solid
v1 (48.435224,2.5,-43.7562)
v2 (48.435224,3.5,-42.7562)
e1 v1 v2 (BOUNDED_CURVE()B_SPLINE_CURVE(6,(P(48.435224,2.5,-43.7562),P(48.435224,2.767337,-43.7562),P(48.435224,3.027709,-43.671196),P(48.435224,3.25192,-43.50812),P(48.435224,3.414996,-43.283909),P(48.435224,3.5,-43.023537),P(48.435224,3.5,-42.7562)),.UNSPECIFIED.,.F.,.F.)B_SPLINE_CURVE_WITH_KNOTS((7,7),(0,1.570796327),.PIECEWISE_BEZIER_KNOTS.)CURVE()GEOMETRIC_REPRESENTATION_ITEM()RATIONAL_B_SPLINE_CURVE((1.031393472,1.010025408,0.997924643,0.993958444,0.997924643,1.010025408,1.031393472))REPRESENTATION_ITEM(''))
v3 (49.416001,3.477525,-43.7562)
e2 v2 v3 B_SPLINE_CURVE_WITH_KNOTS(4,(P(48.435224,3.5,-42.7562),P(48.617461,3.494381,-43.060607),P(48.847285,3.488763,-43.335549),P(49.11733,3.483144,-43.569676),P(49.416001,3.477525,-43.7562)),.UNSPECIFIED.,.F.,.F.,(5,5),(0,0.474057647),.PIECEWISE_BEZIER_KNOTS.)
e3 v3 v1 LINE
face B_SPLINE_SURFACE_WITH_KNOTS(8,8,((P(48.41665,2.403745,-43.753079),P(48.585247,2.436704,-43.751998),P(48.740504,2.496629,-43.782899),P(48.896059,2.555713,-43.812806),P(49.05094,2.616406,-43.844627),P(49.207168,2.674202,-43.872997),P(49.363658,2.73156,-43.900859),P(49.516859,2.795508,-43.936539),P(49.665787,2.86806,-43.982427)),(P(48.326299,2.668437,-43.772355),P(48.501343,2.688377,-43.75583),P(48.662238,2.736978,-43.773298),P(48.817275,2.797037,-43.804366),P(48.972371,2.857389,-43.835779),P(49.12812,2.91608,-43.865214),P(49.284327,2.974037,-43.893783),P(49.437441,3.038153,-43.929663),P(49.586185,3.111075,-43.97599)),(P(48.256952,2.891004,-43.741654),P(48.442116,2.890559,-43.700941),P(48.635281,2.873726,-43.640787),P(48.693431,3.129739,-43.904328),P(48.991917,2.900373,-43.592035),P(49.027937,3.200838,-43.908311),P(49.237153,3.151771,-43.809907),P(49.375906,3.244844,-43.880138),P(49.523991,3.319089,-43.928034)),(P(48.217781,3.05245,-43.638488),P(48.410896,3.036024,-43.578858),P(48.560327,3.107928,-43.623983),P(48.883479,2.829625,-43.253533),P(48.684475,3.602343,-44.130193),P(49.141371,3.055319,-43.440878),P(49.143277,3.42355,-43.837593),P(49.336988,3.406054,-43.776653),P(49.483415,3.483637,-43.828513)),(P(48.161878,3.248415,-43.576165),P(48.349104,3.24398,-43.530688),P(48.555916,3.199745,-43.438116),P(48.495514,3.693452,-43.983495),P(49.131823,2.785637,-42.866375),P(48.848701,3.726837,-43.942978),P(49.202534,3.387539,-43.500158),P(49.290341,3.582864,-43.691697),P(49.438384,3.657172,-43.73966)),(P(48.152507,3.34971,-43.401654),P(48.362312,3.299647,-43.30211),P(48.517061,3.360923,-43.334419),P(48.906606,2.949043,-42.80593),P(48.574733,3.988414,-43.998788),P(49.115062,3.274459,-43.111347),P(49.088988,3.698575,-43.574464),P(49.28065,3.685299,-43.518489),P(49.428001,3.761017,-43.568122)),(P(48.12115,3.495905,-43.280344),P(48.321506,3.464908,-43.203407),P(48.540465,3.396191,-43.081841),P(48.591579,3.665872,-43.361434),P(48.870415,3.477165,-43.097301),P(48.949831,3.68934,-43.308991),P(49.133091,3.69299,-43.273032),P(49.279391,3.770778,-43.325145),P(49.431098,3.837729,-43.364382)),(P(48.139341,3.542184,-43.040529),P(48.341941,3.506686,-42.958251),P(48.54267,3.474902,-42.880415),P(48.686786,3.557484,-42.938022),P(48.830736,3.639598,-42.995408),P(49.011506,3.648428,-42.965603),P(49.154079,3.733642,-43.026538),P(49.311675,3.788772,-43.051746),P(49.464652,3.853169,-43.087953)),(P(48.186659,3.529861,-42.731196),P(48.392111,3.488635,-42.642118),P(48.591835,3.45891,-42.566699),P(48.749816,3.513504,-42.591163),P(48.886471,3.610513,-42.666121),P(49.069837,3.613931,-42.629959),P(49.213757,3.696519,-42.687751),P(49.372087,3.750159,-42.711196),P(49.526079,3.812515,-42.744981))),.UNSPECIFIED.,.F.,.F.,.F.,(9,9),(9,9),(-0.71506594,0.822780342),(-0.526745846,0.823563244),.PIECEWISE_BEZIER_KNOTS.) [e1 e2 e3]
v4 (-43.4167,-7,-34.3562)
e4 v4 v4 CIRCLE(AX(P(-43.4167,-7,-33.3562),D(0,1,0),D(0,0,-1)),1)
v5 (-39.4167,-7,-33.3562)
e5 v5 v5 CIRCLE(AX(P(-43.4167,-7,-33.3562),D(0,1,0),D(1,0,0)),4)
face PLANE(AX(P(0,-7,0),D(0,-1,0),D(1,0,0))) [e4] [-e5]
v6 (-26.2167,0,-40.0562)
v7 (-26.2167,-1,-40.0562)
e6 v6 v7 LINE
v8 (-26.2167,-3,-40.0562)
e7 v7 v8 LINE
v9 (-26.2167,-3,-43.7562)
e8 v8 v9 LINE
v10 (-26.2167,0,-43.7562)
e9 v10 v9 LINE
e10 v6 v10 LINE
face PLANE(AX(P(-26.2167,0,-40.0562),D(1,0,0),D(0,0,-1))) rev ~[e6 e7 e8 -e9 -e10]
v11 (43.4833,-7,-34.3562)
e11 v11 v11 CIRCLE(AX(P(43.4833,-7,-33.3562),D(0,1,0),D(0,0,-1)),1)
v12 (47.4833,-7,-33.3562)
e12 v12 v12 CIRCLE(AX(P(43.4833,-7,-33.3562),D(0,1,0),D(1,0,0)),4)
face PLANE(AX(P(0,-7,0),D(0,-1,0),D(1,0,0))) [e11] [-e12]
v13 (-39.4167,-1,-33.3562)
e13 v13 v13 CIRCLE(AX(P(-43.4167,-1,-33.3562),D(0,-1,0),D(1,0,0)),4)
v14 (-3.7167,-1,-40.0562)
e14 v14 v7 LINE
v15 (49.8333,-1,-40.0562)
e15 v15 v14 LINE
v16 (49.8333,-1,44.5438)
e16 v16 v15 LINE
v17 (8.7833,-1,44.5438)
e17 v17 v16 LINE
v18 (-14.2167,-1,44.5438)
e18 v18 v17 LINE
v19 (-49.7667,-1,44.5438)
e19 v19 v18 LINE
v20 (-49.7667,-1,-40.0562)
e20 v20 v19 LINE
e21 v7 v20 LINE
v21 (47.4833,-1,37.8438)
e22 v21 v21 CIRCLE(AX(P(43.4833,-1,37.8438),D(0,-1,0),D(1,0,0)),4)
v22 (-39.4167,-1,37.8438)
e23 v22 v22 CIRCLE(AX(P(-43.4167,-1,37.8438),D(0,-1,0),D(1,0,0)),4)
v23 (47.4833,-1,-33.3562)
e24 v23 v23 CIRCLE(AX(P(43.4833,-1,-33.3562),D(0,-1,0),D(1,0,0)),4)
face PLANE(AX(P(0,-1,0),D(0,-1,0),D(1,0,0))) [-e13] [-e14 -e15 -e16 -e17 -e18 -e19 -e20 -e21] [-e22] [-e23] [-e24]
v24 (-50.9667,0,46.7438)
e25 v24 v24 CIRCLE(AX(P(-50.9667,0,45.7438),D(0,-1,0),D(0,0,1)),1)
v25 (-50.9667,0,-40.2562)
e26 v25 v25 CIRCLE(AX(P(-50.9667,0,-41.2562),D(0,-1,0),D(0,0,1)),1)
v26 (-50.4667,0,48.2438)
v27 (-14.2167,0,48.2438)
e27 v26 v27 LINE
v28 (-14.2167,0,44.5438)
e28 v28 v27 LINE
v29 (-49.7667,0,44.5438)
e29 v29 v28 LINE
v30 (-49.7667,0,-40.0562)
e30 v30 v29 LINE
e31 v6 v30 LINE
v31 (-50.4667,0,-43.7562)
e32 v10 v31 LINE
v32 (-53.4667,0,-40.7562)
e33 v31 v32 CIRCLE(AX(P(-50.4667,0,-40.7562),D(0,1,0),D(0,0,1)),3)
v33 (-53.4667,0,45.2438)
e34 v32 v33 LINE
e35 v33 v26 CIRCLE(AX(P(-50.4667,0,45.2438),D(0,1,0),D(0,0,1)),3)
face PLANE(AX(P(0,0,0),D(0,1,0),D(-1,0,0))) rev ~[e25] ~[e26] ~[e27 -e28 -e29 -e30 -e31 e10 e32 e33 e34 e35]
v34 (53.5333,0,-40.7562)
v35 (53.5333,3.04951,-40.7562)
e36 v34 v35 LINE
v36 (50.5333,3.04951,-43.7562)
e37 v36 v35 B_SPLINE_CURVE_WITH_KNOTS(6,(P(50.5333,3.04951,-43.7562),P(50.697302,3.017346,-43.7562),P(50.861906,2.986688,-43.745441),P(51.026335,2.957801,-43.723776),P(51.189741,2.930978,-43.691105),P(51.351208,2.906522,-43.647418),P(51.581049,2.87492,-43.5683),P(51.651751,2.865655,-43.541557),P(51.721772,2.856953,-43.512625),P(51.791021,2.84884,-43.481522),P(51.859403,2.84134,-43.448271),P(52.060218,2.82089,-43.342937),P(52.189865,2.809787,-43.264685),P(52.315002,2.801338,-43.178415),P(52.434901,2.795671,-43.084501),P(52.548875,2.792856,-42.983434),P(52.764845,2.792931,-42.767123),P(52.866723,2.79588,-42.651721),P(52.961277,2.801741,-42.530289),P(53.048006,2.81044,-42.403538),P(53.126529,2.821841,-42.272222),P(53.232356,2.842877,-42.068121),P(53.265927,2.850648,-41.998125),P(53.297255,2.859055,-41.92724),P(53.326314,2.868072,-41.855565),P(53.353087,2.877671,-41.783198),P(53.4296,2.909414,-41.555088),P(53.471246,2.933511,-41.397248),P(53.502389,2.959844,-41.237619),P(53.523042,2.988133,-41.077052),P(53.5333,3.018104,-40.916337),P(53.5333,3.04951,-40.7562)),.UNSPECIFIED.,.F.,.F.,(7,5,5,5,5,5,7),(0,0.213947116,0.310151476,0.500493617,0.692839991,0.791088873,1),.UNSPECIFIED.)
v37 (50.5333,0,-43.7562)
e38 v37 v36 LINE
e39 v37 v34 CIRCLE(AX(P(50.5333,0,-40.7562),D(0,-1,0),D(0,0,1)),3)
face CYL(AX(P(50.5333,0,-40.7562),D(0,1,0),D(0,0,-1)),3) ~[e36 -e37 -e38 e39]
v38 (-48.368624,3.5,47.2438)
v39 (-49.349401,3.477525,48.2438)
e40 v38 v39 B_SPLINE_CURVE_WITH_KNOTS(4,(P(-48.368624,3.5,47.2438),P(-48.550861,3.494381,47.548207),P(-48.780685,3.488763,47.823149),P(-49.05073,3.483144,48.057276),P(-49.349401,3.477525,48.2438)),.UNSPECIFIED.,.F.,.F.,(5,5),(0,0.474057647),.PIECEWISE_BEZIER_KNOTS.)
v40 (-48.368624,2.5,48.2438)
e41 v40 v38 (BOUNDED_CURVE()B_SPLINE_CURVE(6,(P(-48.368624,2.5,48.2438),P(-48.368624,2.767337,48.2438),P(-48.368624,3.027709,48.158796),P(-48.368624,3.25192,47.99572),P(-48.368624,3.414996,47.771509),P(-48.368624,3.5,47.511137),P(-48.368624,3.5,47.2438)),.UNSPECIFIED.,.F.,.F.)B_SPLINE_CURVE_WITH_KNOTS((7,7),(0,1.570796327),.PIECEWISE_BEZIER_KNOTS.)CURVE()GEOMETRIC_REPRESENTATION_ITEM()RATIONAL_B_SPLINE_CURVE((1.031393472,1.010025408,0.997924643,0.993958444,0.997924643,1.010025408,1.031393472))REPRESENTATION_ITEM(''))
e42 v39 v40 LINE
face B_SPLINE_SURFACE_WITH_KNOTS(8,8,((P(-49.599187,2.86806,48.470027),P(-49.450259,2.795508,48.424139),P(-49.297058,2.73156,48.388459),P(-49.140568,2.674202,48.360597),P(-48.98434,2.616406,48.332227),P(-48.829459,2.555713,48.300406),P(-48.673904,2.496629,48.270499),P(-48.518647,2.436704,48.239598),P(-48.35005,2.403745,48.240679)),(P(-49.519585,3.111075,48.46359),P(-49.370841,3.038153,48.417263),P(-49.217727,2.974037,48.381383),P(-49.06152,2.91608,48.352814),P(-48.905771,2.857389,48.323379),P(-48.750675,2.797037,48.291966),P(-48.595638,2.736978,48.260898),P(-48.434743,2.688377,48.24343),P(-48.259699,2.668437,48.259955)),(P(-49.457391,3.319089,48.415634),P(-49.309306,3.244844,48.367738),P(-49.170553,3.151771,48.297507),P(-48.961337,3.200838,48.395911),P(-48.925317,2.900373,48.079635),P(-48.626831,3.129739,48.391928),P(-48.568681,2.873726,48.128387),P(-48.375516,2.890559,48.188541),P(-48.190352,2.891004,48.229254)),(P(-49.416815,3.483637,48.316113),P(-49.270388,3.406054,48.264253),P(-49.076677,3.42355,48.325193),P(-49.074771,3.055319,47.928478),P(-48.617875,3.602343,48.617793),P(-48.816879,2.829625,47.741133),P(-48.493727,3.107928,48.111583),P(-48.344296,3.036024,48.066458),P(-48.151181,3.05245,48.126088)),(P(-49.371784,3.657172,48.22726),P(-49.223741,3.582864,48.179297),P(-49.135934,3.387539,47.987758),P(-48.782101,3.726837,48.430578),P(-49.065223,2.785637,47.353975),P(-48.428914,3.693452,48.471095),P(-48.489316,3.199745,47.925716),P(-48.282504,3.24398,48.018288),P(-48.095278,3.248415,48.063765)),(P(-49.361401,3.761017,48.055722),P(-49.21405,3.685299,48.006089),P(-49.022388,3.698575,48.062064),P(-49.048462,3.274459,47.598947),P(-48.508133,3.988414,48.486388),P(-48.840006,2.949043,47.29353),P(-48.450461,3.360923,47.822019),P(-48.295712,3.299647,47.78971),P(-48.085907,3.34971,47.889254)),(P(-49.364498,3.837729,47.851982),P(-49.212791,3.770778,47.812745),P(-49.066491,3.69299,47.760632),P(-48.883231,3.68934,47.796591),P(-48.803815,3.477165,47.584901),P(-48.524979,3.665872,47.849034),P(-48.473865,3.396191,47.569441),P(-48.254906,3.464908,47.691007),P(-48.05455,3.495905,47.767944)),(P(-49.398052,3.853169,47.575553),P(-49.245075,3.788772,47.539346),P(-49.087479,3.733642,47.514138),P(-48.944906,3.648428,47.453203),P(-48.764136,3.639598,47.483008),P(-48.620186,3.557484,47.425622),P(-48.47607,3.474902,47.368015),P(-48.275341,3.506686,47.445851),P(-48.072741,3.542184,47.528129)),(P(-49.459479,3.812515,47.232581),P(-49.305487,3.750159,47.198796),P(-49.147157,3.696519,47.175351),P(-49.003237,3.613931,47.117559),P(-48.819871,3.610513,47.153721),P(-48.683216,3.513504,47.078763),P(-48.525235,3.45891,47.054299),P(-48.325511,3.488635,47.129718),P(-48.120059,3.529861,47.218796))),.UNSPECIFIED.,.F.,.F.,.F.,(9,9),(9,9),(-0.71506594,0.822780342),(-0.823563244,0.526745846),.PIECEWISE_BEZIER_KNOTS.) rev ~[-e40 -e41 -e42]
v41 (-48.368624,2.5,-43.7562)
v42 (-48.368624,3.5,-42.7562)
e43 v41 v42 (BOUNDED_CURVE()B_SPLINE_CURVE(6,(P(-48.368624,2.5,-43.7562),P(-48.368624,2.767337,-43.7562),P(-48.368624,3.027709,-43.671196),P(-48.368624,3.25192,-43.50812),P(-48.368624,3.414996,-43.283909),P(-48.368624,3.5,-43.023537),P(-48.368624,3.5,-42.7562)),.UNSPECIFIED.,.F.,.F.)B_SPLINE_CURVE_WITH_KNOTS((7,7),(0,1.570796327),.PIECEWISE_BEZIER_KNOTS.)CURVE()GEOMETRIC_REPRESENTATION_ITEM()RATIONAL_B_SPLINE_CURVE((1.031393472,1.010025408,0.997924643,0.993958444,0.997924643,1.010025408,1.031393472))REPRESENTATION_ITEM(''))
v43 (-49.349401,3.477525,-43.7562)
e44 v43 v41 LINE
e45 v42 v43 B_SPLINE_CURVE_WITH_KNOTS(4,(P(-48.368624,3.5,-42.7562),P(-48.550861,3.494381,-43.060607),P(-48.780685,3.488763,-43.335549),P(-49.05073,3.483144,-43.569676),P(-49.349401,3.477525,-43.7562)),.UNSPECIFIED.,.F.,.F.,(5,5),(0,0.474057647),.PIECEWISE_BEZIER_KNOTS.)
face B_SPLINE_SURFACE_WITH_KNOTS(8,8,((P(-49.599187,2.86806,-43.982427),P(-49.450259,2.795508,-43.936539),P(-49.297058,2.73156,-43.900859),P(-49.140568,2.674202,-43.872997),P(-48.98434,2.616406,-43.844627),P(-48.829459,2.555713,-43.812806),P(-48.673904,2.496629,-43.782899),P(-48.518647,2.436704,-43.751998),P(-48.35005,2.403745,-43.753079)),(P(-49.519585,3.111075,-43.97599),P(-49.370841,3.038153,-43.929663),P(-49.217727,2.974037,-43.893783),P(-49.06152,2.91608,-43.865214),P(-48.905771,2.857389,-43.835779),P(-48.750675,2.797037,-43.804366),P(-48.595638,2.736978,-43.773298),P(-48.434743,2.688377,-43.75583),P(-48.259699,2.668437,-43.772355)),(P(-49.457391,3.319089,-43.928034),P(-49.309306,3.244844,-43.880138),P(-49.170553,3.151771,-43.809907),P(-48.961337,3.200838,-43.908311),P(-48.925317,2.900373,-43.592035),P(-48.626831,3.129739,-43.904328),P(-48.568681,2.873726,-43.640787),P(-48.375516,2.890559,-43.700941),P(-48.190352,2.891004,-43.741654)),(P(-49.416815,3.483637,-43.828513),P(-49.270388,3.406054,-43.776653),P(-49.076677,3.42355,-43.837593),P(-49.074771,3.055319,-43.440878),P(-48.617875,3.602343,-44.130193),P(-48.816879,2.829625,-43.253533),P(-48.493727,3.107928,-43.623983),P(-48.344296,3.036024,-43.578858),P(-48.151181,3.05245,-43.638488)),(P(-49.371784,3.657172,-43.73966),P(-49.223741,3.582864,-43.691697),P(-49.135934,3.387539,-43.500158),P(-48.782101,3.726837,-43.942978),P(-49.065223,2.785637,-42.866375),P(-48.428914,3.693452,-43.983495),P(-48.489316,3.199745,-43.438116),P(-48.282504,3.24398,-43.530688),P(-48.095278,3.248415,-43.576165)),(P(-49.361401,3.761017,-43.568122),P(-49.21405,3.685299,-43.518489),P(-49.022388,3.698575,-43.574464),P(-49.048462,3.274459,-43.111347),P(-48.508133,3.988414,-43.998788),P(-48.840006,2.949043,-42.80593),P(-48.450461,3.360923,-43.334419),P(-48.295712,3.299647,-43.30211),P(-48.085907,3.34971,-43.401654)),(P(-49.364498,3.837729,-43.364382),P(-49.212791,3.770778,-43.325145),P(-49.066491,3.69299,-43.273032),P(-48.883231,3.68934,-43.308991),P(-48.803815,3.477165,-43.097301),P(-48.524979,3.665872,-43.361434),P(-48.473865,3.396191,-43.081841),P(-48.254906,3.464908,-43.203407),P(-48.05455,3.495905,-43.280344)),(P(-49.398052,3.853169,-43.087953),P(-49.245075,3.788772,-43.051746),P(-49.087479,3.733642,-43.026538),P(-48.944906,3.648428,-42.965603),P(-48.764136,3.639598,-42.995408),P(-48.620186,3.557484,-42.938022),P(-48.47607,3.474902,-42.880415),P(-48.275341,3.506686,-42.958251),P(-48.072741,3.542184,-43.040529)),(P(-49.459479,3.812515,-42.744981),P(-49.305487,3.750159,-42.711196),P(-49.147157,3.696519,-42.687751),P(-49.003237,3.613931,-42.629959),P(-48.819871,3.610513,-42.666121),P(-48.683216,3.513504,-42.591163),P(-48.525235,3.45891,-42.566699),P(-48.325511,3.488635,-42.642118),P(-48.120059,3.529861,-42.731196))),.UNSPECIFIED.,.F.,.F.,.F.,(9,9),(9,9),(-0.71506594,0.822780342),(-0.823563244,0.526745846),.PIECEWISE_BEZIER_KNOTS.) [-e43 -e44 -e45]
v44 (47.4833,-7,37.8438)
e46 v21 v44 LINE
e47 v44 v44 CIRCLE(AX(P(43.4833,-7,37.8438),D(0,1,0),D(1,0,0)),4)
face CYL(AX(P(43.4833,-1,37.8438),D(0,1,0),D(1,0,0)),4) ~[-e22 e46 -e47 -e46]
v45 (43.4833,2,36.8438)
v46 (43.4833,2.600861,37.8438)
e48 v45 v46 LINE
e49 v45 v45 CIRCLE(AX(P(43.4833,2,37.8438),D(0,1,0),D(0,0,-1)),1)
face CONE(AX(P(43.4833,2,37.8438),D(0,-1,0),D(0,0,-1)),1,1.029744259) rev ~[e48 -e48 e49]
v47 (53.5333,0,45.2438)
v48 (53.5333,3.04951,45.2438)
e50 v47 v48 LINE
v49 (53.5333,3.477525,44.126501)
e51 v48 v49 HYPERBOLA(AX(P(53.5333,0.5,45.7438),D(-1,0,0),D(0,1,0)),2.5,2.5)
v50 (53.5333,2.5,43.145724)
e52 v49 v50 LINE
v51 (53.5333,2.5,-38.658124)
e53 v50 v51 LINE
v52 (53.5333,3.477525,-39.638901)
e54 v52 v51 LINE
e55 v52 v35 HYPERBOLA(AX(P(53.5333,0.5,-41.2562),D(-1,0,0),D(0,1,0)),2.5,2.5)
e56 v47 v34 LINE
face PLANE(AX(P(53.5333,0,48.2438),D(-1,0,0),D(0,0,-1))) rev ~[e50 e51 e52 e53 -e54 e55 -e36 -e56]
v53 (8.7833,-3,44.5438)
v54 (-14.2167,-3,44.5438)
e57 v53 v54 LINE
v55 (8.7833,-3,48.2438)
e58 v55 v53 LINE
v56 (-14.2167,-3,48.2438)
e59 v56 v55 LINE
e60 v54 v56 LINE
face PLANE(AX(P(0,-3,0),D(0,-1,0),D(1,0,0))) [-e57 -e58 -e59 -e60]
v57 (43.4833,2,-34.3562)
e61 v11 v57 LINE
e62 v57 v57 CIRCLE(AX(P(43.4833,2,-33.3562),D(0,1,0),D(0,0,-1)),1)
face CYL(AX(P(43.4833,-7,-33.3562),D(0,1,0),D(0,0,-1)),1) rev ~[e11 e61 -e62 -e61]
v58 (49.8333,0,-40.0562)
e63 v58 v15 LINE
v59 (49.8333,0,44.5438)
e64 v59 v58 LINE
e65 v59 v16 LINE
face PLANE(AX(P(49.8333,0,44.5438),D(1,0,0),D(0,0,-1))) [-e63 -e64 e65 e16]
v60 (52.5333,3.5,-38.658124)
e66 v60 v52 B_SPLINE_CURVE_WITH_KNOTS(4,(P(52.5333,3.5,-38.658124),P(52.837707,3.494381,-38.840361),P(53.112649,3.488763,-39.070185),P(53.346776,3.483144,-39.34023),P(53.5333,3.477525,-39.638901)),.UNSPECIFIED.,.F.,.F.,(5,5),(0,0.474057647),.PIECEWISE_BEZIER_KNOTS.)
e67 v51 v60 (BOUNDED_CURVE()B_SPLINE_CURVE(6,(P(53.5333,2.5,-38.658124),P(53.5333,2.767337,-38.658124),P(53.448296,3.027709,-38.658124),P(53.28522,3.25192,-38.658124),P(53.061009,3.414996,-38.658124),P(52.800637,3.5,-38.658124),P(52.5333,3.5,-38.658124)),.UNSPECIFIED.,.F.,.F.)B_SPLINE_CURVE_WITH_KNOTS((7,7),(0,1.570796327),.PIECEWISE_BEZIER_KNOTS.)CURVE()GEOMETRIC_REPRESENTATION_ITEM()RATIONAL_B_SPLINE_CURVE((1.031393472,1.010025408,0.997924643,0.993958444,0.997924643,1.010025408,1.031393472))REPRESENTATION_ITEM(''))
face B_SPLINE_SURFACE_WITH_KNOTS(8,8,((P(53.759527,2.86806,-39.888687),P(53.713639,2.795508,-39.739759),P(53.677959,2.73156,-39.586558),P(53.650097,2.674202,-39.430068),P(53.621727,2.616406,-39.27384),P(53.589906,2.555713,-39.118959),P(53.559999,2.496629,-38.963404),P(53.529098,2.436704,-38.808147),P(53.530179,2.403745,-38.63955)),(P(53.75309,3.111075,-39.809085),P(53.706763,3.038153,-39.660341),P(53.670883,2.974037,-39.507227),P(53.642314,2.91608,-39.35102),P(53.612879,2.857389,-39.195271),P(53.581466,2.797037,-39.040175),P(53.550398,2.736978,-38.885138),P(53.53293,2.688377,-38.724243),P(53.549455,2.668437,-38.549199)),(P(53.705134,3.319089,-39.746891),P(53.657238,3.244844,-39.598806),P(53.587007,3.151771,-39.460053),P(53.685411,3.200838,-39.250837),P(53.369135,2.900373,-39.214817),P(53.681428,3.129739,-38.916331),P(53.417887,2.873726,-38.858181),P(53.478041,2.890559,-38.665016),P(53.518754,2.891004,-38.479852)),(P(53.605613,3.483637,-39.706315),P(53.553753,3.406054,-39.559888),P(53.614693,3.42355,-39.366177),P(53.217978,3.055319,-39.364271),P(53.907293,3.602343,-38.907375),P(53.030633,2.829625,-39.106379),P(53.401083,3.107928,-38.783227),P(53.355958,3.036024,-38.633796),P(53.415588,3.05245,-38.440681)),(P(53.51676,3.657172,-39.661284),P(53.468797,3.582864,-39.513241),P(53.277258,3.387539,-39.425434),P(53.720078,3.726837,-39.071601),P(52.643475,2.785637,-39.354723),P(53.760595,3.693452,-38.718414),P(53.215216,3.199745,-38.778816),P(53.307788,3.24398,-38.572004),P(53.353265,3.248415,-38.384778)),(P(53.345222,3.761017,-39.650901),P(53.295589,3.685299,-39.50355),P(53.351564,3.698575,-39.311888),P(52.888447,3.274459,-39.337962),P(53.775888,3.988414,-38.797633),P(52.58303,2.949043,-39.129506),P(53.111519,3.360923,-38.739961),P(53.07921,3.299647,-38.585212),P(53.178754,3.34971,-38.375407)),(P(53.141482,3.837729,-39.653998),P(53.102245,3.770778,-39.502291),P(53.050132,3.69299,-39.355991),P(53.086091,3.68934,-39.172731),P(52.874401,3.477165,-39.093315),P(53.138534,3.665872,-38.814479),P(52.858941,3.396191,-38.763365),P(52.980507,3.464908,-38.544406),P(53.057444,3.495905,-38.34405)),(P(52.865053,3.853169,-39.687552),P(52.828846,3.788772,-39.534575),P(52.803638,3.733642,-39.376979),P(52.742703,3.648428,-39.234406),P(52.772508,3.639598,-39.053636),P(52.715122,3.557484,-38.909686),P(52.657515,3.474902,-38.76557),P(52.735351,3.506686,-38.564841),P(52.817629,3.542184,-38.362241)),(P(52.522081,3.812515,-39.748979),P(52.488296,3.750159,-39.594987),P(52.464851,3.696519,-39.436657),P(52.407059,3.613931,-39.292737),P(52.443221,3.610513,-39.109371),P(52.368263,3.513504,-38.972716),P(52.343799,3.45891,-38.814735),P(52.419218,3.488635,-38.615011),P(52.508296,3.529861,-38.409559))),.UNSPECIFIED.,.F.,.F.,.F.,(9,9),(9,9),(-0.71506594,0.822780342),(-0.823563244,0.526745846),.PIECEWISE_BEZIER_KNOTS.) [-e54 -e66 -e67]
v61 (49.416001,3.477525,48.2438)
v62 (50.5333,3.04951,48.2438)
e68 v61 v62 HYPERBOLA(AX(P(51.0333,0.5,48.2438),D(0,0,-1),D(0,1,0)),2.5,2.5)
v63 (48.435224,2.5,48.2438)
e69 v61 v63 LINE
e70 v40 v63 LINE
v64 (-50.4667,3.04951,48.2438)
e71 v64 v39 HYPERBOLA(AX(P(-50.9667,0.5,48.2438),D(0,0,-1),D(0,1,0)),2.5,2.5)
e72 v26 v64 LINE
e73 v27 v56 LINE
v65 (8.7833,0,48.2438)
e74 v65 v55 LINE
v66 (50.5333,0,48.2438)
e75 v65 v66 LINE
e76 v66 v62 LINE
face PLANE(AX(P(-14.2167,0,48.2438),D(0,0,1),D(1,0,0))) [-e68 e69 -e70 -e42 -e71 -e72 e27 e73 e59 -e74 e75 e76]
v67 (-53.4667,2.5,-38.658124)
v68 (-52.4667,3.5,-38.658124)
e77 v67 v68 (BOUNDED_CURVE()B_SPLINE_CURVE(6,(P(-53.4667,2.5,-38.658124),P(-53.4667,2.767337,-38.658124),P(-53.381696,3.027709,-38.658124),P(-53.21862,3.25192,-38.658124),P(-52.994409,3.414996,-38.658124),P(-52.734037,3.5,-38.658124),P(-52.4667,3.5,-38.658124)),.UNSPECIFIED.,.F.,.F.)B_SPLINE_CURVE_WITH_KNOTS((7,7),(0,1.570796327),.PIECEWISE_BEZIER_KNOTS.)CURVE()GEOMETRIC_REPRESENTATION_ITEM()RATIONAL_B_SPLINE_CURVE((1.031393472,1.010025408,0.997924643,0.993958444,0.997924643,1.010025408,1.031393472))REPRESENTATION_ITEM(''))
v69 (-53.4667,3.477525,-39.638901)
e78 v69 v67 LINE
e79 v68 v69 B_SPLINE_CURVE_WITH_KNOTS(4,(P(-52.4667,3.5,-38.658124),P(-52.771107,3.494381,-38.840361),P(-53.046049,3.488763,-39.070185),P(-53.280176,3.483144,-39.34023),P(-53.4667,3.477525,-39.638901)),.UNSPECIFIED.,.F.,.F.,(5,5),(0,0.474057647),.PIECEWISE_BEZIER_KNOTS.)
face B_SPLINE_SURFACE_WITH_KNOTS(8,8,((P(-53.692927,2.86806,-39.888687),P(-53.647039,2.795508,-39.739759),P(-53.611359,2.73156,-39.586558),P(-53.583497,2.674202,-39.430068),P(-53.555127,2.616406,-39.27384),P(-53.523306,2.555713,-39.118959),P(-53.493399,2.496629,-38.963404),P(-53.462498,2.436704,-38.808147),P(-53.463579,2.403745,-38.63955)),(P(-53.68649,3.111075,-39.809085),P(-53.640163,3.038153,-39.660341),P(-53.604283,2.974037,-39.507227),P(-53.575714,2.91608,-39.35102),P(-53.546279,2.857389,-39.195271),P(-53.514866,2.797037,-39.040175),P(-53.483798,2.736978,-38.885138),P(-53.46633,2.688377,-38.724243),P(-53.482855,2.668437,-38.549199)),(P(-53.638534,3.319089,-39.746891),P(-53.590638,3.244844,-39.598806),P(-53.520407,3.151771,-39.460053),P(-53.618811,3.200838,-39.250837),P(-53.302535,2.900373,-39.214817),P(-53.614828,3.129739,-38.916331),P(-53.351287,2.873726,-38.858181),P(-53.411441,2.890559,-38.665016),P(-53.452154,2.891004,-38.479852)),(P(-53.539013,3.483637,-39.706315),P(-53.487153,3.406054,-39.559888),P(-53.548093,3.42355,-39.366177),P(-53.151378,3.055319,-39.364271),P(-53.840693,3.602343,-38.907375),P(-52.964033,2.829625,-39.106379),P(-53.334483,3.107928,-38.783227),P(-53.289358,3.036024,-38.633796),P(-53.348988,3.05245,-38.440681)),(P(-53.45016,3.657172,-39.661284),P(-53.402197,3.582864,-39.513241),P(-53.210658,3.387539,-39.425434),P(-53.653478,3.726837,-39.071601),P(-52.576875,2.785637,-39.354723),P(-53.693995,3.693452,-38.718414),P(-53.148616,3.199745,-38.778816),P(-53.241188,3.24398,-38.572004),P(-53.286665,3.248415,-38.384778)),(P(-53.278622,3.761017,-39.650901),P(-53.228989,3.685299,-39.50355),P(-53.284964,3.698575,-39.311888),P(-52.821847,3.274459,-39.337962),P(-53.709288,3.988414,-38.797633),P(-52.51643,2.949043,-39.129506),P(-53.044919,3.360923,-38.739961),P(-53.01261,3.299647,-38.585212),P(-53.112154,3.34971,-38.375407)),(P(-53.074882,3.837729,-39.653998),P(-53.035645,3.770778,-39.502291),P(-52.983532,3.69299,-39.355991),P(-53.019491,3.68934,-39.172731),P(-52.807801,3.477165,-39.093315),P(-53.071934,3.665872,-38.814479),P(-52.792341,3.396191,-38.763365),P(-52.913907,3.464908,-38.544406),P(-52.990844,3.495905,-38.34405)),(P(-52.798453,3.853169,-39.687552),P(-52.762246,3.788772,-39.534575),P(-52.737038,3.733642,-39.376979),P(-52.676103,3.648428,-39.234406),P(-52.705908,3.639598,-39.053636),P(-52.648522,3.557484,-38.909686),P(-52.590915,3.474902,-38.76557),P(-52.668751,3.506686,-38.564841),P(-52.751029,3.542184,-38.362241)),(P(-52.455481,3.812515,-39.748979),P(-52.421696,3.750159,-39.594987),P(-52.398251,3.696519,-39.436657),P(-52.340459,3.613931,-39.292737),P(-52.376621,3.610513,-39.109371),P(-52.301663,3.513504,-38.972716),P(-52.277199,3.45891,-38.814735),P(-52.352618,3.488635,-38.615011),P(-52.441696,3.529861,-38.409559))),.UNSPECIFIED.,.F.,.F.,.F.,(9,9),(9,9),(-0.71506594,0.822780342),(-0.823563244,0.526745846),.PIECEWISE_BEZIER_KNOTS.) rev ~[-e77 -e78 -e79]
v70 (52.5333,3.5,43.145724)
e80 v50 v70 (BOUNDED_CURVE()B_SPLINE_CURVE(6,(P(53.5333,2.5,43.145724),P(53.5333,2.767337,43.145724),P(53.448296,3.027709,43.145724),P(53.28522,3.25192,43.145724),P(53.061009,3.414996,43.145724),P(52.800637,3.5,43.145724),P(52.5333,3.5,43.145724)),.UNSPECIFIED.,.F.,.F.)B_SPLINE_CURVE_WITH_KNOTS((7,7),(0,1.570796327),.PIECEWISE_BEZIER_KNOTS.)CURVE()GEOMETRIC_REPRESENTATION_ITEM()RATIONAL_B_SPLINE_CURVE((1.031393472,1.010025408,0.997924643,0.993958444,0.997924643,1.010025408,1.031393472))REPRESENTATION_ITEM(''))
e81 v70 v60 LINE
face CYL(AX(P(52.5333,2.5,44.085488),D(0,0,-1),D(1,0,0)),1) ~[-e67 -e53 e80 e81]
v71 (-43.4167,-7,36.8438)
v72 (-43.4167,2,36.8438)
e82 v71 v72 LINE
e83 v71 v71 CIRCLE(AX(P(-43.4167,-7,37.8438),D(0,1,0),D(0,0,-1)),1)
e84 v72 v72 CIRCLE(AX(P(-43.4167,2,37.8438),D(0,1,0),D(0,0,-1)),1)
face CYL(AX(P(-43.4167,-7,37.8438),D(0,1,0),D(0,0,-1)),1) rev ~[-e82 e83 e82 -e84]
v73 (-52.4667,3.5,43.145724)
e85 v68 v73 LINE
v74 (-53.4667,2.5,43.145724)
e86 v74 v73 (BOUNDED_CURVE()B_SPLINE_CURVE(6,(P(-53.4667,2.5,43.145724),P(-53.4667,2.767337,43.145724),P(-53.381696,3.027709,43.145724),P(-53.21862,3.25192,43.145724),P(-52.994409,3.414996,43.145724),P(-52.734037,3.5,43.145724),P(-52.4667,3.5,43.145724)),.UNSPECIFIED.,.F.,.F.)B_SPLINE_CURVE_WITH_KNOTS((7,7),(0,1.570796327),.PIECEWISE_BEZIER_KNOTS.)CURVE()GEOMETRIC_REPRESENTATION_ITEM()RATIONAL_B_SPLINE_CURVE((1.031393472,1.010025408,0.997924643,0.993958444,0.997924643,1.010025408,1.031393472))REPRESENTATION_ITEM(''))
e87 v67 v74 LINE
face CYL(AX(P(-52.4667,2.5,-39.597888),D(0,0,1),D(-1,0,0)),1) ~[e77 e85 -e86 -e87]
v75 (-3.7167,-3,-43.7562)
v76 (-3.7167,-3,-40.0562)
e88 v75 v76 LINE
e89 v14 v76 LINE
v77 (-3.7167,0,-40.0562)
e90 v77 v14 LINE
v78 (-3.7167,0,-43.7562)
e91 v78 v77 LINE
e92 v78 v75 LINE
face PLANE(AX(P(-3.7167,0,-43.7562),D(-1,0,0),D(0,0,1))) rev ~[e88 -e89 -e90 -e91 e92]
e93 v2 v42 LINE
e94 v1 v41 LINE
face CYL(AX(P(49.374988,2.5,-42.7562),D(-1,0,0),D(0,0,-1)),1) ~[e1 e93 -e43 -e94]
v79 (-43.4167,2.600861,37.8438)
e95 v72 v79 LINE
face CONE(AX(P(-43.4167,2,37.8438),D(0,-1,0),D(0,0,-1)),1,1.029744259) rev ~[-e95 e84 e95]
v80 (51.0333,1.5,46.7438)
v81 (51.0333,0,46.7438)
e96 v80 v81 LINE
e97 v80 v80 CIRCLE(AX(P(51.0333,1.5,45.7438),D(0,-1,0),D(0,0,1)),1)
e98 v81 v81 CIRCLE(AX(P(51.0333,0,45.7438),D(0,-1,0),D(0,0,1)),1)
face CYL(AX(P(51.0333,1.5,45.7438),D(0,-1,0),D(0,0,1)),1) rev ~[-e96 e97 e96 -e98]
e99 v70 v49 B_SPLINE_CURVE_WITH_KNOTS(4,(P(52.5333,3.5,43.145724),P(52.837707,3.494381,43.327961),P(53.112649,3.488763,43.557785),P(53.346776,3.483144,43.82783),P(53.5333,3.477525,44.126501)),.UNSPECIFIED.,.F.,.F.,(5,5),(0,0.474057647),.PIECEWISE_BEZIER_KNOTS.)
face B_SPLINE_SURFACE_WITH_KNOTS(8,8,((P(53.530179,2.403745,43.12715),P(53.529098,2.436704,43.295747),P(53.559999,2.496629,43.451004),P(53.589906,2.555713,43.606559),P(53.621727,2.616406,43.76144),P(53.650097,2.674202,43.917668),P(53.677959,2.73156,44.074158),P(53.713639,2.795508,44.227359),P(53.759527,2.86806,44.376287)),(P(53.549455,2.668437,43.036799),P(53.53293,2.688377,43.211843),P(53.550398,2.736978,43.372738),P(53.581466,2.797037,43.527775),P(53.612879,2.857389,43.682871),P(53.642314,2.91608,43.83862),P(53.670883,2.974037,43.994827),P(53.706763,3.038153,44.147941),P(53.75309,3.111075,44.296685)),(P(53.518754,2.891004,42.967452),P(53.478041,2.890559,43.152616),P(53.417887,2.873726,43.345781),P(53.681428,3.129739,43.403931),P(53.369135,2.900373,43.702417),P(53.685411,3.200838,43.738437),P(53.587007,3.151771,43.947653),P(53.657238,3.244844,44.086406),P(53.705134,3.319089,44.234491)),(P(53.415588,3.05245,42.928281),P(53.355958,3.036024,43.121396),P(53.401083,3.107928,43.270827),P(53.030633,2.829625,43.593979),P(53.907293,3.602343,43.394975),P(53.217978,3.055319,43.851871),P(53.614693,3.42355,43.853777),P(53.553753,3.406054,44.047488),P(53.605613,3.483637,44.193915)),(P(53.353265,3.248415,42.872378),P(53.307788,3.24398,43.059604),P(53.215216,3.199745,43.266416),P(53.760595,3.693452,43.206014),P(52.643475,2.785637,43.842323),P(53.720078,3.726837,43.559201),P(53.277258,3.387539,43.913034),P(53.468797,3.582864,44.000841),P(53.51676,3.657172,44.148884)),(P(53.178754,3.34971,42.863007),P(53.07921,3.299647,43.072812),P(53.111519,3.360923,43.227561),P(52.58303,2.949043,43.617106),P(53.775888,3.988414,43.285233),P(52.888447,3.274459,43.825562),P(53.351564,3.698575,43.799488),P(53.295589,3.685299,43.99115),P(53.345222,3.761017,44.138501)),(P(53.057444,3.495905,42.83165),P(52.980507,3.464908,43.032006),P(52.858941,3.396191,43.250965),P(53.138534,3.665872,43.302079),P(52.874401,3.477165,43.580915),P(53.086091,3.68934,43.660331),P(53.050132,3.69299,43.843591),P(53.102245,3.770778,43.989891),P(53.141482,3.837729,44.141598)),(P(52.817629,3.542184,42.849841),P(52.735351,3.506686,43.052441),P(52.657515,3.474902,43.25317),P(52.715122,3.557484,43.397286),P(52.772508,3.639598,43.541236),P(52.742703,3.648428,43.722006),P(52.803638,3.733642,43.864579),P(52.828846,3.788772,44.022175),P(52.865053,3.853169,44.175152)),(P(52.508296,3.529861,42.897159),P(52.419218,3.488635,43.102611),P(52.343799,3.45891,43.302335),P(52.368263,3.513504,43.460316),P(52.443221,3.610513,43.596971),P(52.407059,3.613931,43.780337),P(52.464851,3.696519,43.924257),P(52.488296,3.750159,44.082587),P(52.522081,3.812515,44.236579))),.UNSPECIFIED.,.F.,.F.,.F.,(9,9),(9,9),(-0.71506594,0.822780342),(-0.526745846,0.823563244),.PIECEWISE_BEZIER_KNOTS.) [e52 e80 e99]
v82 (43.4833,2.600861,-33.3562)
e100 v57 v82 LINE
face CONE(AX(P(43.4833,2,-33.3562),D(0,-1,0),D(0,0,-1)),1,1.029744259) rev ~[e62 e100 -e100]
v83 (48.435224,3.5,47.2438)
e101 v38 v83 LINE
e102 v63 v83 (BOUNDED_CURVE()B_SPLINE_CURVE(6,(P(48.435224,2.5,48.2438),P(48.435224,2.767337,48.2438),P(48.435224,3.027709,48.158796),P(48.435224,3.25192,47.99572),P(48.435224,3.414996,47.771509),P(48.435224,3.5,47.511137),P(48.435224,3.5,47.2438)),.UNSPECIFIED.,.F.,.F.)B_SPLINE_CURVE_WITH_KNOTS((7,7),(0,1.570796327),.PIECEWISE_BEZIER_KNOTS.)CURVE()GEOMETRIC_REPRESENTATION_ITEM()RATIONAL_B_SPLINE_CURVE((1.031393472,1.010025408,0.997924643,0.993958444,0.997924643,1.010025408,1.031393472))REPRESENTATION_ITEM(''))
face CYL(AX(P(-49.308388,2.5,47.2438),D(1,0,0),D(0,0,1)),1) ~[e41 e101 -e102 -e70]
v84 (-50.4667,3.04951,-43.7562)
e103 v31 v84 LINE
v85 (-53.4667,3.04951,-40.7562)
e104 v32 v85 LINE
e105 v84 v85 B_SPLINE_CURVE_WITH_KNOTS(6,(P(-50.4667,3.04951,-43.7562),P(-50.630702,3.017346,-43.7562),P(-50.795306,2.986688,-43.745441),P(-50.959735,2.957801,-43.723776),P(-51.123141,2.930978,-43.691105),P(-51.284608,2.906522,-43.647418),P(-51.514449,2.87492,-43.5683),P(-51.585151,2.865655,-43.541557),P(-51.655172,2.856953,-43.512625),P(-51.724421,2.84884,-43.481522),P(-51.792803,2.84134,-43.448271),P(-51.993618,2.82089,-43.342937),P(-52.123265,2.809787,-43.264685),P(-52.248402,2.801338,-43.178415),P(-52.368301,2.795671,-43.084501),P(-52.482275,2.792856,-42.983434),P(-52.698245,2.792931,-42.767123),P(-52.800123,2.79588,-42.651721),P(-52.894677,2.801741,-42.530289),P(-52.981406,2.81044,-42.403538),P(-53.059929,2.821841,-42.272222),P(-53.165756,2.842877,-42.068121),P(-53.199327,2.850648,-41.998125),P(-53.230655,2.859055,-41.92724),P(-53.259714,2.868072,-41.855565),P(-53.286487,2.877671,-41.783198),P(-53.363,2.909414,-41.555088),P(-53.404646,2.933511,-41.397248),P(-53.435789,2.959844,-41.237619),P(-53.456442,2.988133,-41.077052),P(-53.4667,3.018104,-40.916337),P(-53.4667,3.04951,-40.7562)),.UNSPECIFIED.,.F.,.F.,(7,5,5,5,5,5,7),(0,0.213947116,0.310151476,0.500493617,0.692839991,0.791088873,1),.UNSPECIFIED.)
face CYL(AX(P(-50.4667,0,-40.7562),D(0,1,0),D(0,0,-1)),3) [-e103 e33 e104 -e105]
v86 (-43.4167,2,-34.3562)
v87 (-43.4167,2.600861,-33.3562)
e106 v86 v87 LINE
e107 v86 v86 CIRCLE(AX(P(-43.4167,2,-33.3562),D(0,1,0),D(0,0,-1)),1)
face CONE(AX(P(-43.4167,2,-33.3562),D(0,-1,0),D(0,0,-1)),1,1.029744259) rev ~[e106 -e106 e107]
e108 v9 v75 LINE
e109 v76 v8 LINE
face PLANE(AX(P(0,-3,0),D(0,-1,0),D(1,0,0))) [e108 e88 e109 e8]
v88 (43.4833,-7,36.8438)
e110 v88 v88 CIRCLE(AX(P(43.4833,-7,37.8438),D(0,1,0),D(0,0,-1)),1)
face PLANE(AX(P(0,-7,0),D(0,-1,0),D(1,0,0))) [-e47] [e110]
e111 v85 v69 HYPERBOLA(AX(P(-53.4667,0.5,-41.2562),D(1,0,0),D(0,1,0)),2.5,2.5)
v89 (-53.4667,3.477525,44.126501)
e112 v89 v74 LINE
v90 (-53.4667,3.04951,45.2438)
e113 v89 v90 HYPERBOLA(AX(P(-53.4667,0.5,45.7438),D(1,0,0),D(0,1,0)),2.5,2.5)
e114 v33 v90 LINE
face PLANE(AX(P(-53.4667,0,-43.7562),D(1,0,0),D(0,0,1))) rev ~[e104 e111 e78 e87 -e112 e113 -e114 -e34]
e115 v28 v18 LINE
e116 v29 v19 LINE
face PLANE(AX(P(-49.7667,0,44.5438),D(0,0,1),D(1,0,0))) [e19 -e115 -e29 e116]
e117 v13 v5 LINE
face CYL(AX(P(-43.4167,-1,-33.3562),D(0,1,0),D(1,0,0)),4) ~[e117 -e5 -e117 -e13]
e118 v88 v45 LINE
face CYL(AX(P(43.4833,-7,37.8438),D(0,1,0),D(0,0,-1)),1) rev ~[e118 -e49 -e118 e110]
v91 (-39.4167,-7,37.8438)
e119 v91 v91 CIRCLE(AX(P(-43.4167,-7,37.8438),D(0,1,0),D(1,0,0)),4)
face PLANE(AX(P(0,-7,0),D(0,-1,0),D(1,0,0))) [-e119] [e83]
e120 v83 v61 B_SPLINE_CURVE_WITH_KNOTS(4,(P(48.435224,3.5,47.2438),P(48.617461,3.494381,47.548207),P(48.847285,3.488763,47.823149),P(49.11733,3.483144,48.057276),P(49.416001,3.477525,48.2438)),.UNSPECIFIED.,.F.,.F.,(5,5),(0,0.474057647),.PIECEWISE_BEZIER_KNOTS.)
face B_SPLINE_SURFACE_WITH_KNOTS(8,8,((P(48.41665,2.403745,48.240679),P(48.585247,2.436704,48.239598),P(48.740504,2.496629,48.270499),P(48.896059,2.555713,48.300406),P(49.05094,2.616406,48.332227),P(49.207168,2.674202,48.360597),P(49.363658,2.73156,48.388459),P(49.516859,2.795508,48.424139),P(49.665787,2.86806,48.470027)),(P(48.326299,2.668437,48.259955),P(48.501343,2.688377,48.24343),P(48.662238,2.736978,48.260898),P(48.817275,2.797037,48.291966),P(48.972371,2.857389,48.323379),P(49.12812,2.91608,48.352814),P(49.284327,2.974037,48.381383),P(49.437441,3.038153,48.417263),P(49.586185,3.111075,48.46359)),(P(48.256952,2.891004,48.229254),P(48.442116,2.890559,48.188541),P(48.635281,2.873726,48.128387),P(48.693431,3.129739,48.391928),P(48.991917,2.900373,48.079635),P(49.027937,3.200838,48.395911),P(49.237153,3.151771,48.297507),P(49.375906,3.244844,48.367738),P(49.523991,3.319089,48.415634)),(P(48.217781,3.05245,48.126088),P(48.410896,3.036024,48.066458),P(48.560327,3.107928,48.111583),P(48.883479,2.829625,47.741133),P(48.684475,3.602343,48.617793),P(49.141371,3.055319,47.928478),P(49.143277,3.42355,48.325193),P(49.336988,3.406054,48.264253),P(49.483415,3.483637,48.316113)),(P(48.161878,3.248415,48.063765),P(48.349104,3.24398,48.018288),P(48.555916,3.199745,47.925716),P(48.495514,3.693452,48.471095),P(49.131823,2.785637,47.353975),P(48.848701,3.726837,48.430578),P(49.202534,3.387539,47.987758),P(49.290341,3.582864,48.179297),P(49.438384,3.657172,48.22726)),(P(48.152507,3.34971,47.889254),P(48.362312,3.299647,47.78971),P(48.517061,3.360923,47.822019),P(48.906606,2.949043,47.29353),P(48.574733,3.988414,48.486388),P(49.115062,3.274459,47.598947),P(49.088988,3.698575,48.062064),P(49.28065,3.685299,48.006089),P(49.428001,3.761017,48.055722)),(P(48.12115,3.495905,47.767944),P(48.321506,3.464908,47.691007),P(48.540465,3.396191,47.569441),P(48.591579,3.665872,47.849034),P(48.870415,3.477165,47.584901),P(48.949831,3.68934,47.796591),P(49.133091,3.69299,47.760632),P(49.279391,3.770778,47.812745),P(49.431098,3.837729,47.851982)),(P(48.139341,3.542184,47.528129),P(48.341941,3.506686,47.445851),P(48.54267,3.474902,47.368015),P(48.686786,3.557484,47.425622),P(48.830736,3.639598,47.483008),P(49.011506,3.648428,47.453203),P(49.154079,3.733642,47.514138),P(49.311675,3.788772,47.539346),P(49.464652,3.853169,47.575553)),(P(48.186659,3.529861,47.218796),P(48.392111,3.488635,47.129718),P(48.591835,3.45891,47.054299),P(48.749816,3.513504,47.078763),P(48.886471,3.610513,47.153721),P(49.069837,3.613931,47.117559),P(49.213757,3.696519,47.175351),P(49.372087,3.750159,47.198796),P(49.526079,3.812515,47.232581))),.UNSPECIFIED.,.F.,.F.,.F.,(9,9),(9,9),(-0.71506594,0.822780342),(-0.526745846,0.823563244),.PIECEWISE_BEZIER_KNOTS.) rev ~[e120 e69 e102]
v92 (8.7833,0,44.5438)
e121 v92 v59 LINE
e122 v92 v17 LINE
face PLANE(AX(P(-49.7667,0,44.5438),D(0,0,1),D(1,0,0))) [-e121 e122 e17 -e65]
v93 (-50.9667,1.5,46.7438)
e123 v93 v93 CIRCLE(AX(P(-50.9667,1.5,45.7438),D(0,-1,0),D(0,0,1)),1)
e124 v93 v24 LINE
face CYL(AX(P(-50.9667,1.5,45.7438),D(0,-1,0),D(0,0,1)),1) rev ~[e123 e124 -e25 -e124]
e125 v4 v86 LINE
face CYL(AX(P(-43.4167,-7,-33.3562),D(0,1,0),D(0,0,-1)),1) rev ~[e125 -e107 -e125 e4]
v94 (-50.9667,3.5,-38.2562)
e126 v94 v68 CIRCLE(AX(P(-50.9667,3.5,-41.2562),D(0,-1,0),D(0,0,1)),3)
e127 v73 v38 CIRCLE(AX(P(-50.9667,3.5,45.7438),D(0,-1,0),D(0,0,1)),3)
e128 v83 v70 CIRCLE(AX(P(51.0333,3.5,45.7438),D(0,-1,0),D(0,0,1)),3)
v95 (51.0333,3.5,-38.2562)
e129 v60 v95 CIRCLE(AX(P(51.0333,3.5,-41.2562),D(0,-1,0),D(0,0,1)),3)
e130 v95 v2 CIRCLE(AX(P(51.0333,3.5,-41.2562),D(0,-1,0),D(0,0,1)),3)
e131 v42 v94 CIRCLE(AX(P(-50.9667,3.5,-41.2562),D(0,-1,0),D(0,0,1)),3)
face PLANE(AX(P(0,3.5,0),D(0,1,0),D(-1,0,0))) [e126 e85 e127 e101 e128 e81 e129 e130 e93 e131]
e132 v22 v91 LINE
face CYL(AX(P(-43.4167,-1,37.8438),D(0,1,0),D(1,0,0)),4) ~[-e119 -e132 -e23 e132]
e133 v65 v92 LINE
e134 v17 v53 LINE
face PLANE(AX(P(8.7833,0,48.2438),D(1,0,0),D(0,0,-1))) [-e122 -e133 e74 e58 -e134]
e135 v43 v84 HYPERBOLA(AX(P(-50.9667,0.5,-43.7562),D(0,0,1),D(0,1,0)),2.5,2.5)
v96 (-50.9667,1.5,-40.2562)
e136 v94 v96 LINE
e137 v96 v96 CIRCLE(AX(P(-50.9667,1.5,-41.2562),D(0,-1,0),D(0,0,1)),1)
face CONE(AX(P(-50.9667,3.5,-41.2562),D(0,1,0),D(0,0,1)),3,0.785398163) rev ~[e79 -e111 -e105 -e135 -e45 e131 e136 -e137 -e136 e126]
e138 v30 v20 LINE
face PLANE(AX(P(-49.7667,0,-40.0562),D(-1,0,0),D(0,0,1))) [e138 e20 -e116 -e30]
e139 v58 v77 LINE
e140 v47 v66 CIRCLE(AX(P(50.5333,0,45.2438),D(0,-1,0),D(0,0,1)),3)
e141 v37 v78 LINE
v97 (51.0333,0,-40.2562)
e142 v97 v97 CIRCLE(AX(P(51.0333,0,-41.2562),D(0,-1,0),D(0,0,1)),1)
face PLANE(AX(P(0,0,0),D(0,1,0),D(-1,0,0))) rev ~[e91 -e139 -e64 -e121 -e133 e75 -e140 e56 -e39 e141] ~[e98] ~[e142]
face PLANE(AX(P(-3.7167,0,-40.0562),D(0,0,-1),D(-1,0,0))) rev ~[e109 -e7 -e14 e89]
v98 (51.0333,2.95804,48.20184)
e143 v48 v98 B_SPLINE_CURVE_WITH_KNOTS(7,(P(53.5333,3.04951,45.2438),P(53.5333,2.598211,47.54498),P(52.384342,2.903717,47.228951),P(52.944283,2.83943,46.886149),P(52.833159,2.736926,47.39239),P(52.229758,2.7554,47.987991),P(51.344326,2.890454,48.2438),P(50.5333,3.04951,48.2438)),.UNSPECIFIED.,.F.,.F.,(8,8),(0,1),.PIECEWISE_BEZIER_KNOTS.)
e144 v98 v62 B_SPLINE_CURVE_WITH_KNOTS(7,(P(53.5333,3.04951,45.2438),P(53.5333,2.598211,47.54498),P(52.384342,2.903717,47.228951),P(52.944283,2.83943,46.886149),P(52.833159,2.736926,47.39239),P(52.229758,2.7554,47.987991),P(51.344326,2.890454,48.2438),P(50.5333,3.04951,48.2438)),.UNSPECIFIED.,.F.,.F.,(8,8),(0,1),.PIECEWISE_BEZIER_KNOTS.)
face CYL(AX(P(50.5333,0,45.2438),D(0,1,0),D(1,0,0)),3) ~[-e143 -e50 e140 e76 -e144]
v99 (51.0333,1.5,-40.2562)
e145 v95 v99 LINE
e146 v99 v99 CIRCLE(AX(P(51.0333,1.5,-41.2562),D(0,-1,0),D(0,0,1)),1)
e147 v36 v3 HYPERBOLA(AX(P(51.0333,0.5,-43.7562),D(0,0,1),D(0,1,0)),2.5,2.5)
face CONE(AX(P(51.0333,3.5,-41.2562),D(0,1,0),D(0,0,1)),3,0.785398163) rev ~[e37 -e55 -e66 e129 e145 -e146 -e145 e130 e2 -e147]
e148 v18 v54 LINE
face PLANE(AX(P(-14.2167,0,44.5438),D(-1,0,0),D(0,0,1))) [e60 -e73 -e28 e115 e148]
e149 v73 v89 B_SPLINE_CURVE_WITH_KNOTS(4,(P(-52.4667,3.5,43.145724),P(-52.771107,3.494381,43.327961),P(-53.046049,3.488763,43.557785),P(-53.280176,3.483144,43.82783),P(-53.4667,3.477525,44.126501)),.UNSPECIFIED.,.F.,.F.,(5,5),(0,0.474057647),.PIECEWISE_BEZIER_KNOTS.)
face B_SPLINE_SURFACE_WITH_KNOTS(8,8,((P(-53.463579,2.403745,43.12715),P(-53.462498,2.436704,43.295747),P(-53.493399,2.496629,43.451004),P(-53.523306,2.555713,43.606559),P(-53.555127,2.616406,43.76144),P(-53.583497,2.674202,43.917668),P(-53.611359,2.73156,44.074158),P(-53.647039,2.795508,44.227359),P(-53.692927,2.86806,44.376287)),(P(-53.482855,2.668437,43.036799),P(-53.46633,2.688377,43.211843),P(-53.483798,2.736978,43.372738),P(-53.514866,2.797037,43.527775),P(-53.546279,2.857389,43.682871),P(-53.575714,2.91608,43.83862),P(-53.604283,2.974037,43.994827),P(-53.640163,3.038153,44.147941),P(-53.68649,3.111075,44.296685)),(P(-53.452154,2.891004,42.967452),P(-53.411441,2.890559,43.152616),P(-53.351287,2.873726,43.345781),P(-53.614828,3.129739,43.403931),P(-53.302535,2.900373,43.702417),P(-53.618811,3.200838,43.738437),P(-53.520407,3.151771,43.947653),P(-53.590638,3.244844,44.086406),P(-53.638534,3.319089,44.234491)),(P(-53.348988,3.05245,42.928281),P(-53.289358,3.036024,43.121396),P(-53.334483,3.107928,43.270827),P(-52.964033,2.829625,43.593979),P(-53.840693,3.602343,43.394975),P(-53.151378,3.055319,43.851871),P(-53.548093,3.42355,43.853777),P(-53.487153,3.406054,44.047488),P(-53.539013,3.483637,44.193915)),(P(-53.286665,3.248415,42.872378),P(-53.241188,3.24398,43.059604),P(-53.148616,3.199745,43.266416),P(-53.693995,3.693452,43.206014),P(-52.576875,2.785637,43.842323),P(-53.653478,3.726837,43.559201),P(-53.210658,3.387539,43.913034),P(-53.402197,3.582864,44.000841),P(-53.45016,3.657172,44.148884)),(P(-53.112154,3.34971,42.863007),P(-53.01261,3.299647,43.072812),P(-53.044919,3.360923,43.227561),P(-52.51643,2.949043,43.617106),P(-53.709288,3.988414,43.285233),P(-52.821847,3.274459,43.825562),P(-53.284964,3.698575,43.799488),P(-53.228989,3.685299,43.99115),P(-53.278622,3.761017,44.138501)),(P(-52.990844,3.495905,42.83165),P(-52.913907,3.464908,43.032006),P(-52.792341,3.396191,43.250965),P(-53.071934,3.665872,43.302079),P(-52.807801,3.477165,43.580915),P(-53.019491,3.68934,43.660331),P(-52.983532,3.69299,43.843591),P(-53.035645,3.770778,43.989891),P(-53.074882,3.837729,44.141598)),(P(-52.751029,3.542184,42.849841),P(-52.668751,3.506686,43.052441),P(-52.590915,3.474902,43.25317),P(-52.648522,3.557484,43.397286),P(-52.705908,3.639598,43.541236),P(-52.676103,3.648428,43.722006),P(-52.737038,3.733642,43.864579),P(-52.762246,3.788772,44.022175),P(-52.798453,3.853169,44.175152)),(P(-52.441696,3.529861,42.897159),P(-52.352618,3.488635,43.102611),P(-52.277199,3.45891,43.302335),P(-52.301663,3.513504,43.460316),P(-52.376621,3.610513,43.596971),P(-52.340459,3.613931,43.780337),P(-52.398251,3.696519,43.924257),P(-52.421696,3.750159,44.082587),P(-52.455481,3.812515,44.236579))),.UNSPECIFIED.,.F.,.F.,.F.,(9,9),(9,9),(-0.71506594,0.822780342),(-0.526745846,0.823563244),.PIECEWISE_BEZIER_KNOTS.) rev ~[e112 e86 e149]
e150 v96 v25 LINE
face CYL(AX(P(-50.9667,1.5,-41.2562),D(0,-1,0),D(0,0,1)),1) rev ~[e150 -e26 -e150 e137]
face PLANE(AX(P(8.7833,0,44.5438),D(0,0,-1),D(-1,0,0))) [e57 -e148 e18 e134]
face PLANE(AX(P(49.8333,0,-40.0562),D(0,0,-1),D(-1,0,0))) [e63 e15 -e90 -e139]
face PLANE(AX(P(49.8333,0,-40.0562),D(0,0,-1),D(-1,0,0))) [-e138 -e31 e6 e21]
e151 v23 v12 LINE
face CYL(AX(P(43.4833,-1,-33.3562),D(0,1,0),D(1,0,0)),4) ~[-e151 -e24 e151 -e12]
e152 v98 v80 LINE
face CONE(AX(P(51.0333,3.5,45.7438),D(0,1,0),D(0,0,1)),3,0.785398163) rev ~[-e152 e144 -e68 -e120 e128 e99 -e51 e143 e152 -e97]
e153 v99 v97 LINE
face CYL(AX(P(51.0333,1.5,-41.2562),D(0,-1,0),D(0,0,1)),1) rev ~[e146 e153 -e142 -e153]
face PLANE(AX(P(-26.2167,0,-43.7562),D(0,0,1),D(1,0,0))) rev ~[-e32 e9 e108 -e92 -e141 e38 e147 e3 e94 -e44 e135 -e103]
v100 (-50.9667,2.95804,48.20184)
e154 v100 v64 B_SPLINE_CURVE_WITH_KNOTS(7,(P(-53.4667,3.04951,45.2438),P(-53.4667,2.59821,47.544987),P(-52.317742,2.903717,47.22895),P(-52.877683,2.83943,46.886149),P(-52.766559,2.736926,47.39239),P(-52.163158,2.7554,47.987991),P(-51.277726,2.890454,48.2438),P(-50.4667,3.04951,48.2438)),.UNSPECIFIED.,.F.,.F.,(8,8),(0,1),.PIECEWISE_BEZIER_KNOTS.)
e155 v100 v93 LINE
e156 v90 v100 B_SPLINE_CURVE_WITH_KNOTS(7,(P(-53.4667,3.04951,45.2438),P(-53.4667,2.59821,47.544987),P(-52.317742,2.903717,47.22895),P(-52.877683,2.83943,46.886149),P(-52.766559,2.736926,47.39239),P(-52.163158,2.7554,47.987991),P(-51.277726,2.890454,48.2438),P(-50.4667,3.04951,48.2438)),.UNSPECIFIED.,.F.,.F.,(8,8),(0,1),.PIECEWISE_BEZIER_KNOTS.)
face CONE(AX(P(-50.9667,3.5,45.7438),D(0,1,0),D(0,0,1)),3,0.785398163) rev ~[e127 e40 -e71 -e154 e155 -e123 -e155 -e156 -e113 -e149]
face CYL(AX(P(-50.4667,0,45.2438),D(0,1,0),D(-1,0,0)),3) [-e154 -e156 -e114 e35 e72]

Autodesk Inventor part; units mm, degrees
ref_plane "YZ Plane" through (0, 0, 0) normal (1, 0, 0) x (0, 1, 0)
ref_plane "XZ Plane" through (0, 0, 0) normal (0, 1, 0) x (-1, 0, 0)
ref_plane "XY Plane" through (0, 0, 0) normal (0, 0, 1) x (1, 0, 0)
sketch "Sketch1" plane through (0, 0, 0) normal (0, 1, 0) x (-1, 0, 0)
  line L0 (53.4667, 48.2438) -> (-53.5333, 48.2438)
  line L1 (-53.5333, 48.2438) -> (-53.5333, -43.7562)
  line L2 (-53.5333, -43.7562) -> (53.4667, -43.7562)
  line L3 (53.4667, -43.7562) -> (53.4667, 48.2438)
  point P0 (0, 0)
  dimension "d0" = 92
  dimension "d1" = 107
extrude "Extrusion1" add sketch "Sketch1" along normal blind 3.5
sketch "Sketch3" plane through (0, 0, 0) normal (0, -1, 0) x (1, 0, 0)
  line L0 (49.8333, -40.0562) -> (-49.7667, -40.0562)
  line L1 (-49.7667, -40.0562) -> (-49.7667, 44.5438)
  line L2 (-49.7667, 44.5438) -> (49.8333, 44.5438)
  line L3 (49.8333, 44.5438) -> (49.8333, -40.0562)
  line L4 (53.5333, -43.7562) -> (-53.4667, -43.7562) projected
  line L5 (53.5333, 48.2438) -> (53.5333, -43.7562) projected
  line L6 (-53.4667, -43.7562) -> (-53.4667, 48.2438) projected
  line L7 (-53.4667, 48.2438) -> (53.5333, 48.2438) projected
  line L8 (-53.4667, 48.2438) -> (53.5333, 48.2438) projected
  line L9 (-12.9167, 44.5438) -> (10.4833, 44.5438)
  line L10 (10.4833, 48.2438) -> (-12.9167, 48.2438)
  point P0 (0, 0)
  dimension "d18" = 3.7
  dimension "d19" = 3.7
  dimension "d81" = 3.7
  dimension "d82" = 3.7
extrude "Extrusion2" add sketch "Sketch3" along normal blind 1 contours L0 L1 L2 L3
sketch "Sketch4" plane through (0, -1, 0) normal (0, -1, 0) x (1, 0, 0)
  line L0 (49.8333, 44.5438) -> (-49.7667, 44.5438) projected
  line L1 (-43.4167, -33.3562) -> (43.4833, -33.3562)
  line L2 (43.4833, -33.3562) -> (43.4833, 37.8438)
  line L3 (43.4833, 37.8438) -> (-43.4167, 37.8438)
  line L4 (-43.4167, 37.8438) -> (-43.4167, -33.3562)
  line L5 (-49.7667, 44.5438) -> (-49.7667, -40.0562) projected
  line L6 (-49.7667, -40.0562) -> (49.8333, -40.0562) projected
  circle A0 centre (-43.4167, -33.3562) radius 4
  circle A1 centre (-43.4167, 37.8438) radius 4
  circle A2 centre (43.4833, 37.8438) radius 4
  circle A3 centre (43.4833, -33.3562) radius 4
  point P0 (0, 0)
  dimension "d24" = 71.2
  dimension "d25" = 86.9
  dimension "d26" = 6.35
  dimension "d27" = 6.7
  dimension "d28" = 8
  dimension "d29" = 8
  dimension "d30" = 8
  dimension "d31" = 8
extrude "Extrusion3" add sketch "Sketch4" along normal blind 6 contours L4 A0 L1 | L1 A0 L4 | A3 L2 L1 | L1 L2 A3 | A1 L3 L4 | L4 L3 A1 | A2 L3 L2 | L2 L3 A2
sketch "Sketch2" plane through (0, 3.5, 0) normal (0, 1, 0) x (1, 0, 0)
  circle A0 centre (51.0333, -45.7438) radius 1
  line L0 (-53.4667, -48.2438) -> (53.5333, -48.2438) projected
  line L1 (53.5333, -48.2438) -> (53.5333, 43.7562) projected
  line L2 (0.0333, -35.8262) -> (0.0333, -54.6484)
  line L3 (-40.2723, -2.2438) -> (-66.6234, -2.2438)
  circle A1 centre (-50.9667, -45.7438) radius 1
  circle A2 centre (51.0333, 41.2562) radius 1
  circle A3 centre (-50.9667, 41.2562) radius 1
  point P0 (0, 0)
  dimension "d4" = 2
  dimension "d5" = 2.5
  dimension "d6" = 2.5
  dimension "d7" = 53.5
  dimension "d8" = 46
hole "Hole1" at (51.0333, 3.5, 45.7438) at (-50.9667, 3.5, 45.7438) at (-50.9667, 3.5, -41.2562) at (51.0333, 3.5, -41.2562) direction (0, -1, 0) diameter 2 end through all countersink diameter 6 countersink angle 90
hole "Hole2" at (-43.4167, -7, 37.8438) direction (0, 1, 0) diameter 2 depth 9 tip angle 118
hole "Hole3" at (43.4833, -7, 37.8438) direction (0, 1, 0) diameter 2 depth 9 tip angle 118
hole "Hole4" at (43.4833, -7, -33.3562) direction (0, 1, 0) diameter 2 depth 9 tip angle 118
hole "Hole5" at (-43.4167, -7, -33.3562) direction (0, 1, 0) diameter 2 depth 9 tip angle 118
fillet "Fillet1" radius 3 4 edges at (-53.4667, 1.75, -43.7562) (53.5333, 1.75, -43.7562) (53.5333, 1.75, 48.2438) (-53.4667, 1.75, 48.2438)
fillet "Fillet2" radius 1 4 edges at (0.0333, 3.5, 48.2438) (53.5333, 3.5, 2.2438) (0.0333, 3.5, -43.7562) (-53.4667, 3.5, 2.2438)
sketch "Sketch7" plane through (0, 0, 0) normal (0, -1, 0) x (1, 0, 0)
  line L0 (-14.2167, 48.2438) -> (8.7833, 48.2438)
  line L1 (8.7833, 48.2438) -> (8.7833, 44.5438)
  line L2 (8.7833, 44.5438) -> (-14.2167, 44.5438)
  line L3 (-14.2167, 44.5438) -> (-14.2167, 48.2438)
  line L4 (-53.4667, -40.7562) -> (-53.4667, 45.2438) projected
  line L5 (49.8333, 44.5438) -> (-49.7667, 44.5438) projected
  point P0 (0, 0)
  dimension "d91" = 23
  dimension "d92" = 3.7
  dimension "d93" = 39.25
  dimension "d96" = 0
extrude "Extrusion5" add sketch "Sketch7" along normal blind 3
sketch "Sketch8" plane through (0, 0, 0) normal (0, -1, 0) x (1, 0, 0)
  line L0 (-26.2167, -43.7562) -> (-3.7167, -43.7562)
  line L1 (-3.7167, -43.7562) -> (-3.7167, -40.0562)
  line L2 (-3.7167, -40.0562) -> (-26.2167, -40.0562)
  line L3 (-26.2167, -40.0562) -> (-26.2167, -43.7562)
  line L4 (-49.7667, -40.0562) -> (49.8333, -40.0562) projected
  line L5 (-53.4667, -40.7562) -> (-53.4667, 45.2438) projected
  point P0 (0, 0)
  dimension "d97" = 22.5
  dimension "d98" = 0
  dimension "d99" = 3.7
  dimension "d100" = 27.25
extrude "Extrusion6" add sketch "Sketch8" along normal blind 3
properties part number "MotorDriverModel_lid"
